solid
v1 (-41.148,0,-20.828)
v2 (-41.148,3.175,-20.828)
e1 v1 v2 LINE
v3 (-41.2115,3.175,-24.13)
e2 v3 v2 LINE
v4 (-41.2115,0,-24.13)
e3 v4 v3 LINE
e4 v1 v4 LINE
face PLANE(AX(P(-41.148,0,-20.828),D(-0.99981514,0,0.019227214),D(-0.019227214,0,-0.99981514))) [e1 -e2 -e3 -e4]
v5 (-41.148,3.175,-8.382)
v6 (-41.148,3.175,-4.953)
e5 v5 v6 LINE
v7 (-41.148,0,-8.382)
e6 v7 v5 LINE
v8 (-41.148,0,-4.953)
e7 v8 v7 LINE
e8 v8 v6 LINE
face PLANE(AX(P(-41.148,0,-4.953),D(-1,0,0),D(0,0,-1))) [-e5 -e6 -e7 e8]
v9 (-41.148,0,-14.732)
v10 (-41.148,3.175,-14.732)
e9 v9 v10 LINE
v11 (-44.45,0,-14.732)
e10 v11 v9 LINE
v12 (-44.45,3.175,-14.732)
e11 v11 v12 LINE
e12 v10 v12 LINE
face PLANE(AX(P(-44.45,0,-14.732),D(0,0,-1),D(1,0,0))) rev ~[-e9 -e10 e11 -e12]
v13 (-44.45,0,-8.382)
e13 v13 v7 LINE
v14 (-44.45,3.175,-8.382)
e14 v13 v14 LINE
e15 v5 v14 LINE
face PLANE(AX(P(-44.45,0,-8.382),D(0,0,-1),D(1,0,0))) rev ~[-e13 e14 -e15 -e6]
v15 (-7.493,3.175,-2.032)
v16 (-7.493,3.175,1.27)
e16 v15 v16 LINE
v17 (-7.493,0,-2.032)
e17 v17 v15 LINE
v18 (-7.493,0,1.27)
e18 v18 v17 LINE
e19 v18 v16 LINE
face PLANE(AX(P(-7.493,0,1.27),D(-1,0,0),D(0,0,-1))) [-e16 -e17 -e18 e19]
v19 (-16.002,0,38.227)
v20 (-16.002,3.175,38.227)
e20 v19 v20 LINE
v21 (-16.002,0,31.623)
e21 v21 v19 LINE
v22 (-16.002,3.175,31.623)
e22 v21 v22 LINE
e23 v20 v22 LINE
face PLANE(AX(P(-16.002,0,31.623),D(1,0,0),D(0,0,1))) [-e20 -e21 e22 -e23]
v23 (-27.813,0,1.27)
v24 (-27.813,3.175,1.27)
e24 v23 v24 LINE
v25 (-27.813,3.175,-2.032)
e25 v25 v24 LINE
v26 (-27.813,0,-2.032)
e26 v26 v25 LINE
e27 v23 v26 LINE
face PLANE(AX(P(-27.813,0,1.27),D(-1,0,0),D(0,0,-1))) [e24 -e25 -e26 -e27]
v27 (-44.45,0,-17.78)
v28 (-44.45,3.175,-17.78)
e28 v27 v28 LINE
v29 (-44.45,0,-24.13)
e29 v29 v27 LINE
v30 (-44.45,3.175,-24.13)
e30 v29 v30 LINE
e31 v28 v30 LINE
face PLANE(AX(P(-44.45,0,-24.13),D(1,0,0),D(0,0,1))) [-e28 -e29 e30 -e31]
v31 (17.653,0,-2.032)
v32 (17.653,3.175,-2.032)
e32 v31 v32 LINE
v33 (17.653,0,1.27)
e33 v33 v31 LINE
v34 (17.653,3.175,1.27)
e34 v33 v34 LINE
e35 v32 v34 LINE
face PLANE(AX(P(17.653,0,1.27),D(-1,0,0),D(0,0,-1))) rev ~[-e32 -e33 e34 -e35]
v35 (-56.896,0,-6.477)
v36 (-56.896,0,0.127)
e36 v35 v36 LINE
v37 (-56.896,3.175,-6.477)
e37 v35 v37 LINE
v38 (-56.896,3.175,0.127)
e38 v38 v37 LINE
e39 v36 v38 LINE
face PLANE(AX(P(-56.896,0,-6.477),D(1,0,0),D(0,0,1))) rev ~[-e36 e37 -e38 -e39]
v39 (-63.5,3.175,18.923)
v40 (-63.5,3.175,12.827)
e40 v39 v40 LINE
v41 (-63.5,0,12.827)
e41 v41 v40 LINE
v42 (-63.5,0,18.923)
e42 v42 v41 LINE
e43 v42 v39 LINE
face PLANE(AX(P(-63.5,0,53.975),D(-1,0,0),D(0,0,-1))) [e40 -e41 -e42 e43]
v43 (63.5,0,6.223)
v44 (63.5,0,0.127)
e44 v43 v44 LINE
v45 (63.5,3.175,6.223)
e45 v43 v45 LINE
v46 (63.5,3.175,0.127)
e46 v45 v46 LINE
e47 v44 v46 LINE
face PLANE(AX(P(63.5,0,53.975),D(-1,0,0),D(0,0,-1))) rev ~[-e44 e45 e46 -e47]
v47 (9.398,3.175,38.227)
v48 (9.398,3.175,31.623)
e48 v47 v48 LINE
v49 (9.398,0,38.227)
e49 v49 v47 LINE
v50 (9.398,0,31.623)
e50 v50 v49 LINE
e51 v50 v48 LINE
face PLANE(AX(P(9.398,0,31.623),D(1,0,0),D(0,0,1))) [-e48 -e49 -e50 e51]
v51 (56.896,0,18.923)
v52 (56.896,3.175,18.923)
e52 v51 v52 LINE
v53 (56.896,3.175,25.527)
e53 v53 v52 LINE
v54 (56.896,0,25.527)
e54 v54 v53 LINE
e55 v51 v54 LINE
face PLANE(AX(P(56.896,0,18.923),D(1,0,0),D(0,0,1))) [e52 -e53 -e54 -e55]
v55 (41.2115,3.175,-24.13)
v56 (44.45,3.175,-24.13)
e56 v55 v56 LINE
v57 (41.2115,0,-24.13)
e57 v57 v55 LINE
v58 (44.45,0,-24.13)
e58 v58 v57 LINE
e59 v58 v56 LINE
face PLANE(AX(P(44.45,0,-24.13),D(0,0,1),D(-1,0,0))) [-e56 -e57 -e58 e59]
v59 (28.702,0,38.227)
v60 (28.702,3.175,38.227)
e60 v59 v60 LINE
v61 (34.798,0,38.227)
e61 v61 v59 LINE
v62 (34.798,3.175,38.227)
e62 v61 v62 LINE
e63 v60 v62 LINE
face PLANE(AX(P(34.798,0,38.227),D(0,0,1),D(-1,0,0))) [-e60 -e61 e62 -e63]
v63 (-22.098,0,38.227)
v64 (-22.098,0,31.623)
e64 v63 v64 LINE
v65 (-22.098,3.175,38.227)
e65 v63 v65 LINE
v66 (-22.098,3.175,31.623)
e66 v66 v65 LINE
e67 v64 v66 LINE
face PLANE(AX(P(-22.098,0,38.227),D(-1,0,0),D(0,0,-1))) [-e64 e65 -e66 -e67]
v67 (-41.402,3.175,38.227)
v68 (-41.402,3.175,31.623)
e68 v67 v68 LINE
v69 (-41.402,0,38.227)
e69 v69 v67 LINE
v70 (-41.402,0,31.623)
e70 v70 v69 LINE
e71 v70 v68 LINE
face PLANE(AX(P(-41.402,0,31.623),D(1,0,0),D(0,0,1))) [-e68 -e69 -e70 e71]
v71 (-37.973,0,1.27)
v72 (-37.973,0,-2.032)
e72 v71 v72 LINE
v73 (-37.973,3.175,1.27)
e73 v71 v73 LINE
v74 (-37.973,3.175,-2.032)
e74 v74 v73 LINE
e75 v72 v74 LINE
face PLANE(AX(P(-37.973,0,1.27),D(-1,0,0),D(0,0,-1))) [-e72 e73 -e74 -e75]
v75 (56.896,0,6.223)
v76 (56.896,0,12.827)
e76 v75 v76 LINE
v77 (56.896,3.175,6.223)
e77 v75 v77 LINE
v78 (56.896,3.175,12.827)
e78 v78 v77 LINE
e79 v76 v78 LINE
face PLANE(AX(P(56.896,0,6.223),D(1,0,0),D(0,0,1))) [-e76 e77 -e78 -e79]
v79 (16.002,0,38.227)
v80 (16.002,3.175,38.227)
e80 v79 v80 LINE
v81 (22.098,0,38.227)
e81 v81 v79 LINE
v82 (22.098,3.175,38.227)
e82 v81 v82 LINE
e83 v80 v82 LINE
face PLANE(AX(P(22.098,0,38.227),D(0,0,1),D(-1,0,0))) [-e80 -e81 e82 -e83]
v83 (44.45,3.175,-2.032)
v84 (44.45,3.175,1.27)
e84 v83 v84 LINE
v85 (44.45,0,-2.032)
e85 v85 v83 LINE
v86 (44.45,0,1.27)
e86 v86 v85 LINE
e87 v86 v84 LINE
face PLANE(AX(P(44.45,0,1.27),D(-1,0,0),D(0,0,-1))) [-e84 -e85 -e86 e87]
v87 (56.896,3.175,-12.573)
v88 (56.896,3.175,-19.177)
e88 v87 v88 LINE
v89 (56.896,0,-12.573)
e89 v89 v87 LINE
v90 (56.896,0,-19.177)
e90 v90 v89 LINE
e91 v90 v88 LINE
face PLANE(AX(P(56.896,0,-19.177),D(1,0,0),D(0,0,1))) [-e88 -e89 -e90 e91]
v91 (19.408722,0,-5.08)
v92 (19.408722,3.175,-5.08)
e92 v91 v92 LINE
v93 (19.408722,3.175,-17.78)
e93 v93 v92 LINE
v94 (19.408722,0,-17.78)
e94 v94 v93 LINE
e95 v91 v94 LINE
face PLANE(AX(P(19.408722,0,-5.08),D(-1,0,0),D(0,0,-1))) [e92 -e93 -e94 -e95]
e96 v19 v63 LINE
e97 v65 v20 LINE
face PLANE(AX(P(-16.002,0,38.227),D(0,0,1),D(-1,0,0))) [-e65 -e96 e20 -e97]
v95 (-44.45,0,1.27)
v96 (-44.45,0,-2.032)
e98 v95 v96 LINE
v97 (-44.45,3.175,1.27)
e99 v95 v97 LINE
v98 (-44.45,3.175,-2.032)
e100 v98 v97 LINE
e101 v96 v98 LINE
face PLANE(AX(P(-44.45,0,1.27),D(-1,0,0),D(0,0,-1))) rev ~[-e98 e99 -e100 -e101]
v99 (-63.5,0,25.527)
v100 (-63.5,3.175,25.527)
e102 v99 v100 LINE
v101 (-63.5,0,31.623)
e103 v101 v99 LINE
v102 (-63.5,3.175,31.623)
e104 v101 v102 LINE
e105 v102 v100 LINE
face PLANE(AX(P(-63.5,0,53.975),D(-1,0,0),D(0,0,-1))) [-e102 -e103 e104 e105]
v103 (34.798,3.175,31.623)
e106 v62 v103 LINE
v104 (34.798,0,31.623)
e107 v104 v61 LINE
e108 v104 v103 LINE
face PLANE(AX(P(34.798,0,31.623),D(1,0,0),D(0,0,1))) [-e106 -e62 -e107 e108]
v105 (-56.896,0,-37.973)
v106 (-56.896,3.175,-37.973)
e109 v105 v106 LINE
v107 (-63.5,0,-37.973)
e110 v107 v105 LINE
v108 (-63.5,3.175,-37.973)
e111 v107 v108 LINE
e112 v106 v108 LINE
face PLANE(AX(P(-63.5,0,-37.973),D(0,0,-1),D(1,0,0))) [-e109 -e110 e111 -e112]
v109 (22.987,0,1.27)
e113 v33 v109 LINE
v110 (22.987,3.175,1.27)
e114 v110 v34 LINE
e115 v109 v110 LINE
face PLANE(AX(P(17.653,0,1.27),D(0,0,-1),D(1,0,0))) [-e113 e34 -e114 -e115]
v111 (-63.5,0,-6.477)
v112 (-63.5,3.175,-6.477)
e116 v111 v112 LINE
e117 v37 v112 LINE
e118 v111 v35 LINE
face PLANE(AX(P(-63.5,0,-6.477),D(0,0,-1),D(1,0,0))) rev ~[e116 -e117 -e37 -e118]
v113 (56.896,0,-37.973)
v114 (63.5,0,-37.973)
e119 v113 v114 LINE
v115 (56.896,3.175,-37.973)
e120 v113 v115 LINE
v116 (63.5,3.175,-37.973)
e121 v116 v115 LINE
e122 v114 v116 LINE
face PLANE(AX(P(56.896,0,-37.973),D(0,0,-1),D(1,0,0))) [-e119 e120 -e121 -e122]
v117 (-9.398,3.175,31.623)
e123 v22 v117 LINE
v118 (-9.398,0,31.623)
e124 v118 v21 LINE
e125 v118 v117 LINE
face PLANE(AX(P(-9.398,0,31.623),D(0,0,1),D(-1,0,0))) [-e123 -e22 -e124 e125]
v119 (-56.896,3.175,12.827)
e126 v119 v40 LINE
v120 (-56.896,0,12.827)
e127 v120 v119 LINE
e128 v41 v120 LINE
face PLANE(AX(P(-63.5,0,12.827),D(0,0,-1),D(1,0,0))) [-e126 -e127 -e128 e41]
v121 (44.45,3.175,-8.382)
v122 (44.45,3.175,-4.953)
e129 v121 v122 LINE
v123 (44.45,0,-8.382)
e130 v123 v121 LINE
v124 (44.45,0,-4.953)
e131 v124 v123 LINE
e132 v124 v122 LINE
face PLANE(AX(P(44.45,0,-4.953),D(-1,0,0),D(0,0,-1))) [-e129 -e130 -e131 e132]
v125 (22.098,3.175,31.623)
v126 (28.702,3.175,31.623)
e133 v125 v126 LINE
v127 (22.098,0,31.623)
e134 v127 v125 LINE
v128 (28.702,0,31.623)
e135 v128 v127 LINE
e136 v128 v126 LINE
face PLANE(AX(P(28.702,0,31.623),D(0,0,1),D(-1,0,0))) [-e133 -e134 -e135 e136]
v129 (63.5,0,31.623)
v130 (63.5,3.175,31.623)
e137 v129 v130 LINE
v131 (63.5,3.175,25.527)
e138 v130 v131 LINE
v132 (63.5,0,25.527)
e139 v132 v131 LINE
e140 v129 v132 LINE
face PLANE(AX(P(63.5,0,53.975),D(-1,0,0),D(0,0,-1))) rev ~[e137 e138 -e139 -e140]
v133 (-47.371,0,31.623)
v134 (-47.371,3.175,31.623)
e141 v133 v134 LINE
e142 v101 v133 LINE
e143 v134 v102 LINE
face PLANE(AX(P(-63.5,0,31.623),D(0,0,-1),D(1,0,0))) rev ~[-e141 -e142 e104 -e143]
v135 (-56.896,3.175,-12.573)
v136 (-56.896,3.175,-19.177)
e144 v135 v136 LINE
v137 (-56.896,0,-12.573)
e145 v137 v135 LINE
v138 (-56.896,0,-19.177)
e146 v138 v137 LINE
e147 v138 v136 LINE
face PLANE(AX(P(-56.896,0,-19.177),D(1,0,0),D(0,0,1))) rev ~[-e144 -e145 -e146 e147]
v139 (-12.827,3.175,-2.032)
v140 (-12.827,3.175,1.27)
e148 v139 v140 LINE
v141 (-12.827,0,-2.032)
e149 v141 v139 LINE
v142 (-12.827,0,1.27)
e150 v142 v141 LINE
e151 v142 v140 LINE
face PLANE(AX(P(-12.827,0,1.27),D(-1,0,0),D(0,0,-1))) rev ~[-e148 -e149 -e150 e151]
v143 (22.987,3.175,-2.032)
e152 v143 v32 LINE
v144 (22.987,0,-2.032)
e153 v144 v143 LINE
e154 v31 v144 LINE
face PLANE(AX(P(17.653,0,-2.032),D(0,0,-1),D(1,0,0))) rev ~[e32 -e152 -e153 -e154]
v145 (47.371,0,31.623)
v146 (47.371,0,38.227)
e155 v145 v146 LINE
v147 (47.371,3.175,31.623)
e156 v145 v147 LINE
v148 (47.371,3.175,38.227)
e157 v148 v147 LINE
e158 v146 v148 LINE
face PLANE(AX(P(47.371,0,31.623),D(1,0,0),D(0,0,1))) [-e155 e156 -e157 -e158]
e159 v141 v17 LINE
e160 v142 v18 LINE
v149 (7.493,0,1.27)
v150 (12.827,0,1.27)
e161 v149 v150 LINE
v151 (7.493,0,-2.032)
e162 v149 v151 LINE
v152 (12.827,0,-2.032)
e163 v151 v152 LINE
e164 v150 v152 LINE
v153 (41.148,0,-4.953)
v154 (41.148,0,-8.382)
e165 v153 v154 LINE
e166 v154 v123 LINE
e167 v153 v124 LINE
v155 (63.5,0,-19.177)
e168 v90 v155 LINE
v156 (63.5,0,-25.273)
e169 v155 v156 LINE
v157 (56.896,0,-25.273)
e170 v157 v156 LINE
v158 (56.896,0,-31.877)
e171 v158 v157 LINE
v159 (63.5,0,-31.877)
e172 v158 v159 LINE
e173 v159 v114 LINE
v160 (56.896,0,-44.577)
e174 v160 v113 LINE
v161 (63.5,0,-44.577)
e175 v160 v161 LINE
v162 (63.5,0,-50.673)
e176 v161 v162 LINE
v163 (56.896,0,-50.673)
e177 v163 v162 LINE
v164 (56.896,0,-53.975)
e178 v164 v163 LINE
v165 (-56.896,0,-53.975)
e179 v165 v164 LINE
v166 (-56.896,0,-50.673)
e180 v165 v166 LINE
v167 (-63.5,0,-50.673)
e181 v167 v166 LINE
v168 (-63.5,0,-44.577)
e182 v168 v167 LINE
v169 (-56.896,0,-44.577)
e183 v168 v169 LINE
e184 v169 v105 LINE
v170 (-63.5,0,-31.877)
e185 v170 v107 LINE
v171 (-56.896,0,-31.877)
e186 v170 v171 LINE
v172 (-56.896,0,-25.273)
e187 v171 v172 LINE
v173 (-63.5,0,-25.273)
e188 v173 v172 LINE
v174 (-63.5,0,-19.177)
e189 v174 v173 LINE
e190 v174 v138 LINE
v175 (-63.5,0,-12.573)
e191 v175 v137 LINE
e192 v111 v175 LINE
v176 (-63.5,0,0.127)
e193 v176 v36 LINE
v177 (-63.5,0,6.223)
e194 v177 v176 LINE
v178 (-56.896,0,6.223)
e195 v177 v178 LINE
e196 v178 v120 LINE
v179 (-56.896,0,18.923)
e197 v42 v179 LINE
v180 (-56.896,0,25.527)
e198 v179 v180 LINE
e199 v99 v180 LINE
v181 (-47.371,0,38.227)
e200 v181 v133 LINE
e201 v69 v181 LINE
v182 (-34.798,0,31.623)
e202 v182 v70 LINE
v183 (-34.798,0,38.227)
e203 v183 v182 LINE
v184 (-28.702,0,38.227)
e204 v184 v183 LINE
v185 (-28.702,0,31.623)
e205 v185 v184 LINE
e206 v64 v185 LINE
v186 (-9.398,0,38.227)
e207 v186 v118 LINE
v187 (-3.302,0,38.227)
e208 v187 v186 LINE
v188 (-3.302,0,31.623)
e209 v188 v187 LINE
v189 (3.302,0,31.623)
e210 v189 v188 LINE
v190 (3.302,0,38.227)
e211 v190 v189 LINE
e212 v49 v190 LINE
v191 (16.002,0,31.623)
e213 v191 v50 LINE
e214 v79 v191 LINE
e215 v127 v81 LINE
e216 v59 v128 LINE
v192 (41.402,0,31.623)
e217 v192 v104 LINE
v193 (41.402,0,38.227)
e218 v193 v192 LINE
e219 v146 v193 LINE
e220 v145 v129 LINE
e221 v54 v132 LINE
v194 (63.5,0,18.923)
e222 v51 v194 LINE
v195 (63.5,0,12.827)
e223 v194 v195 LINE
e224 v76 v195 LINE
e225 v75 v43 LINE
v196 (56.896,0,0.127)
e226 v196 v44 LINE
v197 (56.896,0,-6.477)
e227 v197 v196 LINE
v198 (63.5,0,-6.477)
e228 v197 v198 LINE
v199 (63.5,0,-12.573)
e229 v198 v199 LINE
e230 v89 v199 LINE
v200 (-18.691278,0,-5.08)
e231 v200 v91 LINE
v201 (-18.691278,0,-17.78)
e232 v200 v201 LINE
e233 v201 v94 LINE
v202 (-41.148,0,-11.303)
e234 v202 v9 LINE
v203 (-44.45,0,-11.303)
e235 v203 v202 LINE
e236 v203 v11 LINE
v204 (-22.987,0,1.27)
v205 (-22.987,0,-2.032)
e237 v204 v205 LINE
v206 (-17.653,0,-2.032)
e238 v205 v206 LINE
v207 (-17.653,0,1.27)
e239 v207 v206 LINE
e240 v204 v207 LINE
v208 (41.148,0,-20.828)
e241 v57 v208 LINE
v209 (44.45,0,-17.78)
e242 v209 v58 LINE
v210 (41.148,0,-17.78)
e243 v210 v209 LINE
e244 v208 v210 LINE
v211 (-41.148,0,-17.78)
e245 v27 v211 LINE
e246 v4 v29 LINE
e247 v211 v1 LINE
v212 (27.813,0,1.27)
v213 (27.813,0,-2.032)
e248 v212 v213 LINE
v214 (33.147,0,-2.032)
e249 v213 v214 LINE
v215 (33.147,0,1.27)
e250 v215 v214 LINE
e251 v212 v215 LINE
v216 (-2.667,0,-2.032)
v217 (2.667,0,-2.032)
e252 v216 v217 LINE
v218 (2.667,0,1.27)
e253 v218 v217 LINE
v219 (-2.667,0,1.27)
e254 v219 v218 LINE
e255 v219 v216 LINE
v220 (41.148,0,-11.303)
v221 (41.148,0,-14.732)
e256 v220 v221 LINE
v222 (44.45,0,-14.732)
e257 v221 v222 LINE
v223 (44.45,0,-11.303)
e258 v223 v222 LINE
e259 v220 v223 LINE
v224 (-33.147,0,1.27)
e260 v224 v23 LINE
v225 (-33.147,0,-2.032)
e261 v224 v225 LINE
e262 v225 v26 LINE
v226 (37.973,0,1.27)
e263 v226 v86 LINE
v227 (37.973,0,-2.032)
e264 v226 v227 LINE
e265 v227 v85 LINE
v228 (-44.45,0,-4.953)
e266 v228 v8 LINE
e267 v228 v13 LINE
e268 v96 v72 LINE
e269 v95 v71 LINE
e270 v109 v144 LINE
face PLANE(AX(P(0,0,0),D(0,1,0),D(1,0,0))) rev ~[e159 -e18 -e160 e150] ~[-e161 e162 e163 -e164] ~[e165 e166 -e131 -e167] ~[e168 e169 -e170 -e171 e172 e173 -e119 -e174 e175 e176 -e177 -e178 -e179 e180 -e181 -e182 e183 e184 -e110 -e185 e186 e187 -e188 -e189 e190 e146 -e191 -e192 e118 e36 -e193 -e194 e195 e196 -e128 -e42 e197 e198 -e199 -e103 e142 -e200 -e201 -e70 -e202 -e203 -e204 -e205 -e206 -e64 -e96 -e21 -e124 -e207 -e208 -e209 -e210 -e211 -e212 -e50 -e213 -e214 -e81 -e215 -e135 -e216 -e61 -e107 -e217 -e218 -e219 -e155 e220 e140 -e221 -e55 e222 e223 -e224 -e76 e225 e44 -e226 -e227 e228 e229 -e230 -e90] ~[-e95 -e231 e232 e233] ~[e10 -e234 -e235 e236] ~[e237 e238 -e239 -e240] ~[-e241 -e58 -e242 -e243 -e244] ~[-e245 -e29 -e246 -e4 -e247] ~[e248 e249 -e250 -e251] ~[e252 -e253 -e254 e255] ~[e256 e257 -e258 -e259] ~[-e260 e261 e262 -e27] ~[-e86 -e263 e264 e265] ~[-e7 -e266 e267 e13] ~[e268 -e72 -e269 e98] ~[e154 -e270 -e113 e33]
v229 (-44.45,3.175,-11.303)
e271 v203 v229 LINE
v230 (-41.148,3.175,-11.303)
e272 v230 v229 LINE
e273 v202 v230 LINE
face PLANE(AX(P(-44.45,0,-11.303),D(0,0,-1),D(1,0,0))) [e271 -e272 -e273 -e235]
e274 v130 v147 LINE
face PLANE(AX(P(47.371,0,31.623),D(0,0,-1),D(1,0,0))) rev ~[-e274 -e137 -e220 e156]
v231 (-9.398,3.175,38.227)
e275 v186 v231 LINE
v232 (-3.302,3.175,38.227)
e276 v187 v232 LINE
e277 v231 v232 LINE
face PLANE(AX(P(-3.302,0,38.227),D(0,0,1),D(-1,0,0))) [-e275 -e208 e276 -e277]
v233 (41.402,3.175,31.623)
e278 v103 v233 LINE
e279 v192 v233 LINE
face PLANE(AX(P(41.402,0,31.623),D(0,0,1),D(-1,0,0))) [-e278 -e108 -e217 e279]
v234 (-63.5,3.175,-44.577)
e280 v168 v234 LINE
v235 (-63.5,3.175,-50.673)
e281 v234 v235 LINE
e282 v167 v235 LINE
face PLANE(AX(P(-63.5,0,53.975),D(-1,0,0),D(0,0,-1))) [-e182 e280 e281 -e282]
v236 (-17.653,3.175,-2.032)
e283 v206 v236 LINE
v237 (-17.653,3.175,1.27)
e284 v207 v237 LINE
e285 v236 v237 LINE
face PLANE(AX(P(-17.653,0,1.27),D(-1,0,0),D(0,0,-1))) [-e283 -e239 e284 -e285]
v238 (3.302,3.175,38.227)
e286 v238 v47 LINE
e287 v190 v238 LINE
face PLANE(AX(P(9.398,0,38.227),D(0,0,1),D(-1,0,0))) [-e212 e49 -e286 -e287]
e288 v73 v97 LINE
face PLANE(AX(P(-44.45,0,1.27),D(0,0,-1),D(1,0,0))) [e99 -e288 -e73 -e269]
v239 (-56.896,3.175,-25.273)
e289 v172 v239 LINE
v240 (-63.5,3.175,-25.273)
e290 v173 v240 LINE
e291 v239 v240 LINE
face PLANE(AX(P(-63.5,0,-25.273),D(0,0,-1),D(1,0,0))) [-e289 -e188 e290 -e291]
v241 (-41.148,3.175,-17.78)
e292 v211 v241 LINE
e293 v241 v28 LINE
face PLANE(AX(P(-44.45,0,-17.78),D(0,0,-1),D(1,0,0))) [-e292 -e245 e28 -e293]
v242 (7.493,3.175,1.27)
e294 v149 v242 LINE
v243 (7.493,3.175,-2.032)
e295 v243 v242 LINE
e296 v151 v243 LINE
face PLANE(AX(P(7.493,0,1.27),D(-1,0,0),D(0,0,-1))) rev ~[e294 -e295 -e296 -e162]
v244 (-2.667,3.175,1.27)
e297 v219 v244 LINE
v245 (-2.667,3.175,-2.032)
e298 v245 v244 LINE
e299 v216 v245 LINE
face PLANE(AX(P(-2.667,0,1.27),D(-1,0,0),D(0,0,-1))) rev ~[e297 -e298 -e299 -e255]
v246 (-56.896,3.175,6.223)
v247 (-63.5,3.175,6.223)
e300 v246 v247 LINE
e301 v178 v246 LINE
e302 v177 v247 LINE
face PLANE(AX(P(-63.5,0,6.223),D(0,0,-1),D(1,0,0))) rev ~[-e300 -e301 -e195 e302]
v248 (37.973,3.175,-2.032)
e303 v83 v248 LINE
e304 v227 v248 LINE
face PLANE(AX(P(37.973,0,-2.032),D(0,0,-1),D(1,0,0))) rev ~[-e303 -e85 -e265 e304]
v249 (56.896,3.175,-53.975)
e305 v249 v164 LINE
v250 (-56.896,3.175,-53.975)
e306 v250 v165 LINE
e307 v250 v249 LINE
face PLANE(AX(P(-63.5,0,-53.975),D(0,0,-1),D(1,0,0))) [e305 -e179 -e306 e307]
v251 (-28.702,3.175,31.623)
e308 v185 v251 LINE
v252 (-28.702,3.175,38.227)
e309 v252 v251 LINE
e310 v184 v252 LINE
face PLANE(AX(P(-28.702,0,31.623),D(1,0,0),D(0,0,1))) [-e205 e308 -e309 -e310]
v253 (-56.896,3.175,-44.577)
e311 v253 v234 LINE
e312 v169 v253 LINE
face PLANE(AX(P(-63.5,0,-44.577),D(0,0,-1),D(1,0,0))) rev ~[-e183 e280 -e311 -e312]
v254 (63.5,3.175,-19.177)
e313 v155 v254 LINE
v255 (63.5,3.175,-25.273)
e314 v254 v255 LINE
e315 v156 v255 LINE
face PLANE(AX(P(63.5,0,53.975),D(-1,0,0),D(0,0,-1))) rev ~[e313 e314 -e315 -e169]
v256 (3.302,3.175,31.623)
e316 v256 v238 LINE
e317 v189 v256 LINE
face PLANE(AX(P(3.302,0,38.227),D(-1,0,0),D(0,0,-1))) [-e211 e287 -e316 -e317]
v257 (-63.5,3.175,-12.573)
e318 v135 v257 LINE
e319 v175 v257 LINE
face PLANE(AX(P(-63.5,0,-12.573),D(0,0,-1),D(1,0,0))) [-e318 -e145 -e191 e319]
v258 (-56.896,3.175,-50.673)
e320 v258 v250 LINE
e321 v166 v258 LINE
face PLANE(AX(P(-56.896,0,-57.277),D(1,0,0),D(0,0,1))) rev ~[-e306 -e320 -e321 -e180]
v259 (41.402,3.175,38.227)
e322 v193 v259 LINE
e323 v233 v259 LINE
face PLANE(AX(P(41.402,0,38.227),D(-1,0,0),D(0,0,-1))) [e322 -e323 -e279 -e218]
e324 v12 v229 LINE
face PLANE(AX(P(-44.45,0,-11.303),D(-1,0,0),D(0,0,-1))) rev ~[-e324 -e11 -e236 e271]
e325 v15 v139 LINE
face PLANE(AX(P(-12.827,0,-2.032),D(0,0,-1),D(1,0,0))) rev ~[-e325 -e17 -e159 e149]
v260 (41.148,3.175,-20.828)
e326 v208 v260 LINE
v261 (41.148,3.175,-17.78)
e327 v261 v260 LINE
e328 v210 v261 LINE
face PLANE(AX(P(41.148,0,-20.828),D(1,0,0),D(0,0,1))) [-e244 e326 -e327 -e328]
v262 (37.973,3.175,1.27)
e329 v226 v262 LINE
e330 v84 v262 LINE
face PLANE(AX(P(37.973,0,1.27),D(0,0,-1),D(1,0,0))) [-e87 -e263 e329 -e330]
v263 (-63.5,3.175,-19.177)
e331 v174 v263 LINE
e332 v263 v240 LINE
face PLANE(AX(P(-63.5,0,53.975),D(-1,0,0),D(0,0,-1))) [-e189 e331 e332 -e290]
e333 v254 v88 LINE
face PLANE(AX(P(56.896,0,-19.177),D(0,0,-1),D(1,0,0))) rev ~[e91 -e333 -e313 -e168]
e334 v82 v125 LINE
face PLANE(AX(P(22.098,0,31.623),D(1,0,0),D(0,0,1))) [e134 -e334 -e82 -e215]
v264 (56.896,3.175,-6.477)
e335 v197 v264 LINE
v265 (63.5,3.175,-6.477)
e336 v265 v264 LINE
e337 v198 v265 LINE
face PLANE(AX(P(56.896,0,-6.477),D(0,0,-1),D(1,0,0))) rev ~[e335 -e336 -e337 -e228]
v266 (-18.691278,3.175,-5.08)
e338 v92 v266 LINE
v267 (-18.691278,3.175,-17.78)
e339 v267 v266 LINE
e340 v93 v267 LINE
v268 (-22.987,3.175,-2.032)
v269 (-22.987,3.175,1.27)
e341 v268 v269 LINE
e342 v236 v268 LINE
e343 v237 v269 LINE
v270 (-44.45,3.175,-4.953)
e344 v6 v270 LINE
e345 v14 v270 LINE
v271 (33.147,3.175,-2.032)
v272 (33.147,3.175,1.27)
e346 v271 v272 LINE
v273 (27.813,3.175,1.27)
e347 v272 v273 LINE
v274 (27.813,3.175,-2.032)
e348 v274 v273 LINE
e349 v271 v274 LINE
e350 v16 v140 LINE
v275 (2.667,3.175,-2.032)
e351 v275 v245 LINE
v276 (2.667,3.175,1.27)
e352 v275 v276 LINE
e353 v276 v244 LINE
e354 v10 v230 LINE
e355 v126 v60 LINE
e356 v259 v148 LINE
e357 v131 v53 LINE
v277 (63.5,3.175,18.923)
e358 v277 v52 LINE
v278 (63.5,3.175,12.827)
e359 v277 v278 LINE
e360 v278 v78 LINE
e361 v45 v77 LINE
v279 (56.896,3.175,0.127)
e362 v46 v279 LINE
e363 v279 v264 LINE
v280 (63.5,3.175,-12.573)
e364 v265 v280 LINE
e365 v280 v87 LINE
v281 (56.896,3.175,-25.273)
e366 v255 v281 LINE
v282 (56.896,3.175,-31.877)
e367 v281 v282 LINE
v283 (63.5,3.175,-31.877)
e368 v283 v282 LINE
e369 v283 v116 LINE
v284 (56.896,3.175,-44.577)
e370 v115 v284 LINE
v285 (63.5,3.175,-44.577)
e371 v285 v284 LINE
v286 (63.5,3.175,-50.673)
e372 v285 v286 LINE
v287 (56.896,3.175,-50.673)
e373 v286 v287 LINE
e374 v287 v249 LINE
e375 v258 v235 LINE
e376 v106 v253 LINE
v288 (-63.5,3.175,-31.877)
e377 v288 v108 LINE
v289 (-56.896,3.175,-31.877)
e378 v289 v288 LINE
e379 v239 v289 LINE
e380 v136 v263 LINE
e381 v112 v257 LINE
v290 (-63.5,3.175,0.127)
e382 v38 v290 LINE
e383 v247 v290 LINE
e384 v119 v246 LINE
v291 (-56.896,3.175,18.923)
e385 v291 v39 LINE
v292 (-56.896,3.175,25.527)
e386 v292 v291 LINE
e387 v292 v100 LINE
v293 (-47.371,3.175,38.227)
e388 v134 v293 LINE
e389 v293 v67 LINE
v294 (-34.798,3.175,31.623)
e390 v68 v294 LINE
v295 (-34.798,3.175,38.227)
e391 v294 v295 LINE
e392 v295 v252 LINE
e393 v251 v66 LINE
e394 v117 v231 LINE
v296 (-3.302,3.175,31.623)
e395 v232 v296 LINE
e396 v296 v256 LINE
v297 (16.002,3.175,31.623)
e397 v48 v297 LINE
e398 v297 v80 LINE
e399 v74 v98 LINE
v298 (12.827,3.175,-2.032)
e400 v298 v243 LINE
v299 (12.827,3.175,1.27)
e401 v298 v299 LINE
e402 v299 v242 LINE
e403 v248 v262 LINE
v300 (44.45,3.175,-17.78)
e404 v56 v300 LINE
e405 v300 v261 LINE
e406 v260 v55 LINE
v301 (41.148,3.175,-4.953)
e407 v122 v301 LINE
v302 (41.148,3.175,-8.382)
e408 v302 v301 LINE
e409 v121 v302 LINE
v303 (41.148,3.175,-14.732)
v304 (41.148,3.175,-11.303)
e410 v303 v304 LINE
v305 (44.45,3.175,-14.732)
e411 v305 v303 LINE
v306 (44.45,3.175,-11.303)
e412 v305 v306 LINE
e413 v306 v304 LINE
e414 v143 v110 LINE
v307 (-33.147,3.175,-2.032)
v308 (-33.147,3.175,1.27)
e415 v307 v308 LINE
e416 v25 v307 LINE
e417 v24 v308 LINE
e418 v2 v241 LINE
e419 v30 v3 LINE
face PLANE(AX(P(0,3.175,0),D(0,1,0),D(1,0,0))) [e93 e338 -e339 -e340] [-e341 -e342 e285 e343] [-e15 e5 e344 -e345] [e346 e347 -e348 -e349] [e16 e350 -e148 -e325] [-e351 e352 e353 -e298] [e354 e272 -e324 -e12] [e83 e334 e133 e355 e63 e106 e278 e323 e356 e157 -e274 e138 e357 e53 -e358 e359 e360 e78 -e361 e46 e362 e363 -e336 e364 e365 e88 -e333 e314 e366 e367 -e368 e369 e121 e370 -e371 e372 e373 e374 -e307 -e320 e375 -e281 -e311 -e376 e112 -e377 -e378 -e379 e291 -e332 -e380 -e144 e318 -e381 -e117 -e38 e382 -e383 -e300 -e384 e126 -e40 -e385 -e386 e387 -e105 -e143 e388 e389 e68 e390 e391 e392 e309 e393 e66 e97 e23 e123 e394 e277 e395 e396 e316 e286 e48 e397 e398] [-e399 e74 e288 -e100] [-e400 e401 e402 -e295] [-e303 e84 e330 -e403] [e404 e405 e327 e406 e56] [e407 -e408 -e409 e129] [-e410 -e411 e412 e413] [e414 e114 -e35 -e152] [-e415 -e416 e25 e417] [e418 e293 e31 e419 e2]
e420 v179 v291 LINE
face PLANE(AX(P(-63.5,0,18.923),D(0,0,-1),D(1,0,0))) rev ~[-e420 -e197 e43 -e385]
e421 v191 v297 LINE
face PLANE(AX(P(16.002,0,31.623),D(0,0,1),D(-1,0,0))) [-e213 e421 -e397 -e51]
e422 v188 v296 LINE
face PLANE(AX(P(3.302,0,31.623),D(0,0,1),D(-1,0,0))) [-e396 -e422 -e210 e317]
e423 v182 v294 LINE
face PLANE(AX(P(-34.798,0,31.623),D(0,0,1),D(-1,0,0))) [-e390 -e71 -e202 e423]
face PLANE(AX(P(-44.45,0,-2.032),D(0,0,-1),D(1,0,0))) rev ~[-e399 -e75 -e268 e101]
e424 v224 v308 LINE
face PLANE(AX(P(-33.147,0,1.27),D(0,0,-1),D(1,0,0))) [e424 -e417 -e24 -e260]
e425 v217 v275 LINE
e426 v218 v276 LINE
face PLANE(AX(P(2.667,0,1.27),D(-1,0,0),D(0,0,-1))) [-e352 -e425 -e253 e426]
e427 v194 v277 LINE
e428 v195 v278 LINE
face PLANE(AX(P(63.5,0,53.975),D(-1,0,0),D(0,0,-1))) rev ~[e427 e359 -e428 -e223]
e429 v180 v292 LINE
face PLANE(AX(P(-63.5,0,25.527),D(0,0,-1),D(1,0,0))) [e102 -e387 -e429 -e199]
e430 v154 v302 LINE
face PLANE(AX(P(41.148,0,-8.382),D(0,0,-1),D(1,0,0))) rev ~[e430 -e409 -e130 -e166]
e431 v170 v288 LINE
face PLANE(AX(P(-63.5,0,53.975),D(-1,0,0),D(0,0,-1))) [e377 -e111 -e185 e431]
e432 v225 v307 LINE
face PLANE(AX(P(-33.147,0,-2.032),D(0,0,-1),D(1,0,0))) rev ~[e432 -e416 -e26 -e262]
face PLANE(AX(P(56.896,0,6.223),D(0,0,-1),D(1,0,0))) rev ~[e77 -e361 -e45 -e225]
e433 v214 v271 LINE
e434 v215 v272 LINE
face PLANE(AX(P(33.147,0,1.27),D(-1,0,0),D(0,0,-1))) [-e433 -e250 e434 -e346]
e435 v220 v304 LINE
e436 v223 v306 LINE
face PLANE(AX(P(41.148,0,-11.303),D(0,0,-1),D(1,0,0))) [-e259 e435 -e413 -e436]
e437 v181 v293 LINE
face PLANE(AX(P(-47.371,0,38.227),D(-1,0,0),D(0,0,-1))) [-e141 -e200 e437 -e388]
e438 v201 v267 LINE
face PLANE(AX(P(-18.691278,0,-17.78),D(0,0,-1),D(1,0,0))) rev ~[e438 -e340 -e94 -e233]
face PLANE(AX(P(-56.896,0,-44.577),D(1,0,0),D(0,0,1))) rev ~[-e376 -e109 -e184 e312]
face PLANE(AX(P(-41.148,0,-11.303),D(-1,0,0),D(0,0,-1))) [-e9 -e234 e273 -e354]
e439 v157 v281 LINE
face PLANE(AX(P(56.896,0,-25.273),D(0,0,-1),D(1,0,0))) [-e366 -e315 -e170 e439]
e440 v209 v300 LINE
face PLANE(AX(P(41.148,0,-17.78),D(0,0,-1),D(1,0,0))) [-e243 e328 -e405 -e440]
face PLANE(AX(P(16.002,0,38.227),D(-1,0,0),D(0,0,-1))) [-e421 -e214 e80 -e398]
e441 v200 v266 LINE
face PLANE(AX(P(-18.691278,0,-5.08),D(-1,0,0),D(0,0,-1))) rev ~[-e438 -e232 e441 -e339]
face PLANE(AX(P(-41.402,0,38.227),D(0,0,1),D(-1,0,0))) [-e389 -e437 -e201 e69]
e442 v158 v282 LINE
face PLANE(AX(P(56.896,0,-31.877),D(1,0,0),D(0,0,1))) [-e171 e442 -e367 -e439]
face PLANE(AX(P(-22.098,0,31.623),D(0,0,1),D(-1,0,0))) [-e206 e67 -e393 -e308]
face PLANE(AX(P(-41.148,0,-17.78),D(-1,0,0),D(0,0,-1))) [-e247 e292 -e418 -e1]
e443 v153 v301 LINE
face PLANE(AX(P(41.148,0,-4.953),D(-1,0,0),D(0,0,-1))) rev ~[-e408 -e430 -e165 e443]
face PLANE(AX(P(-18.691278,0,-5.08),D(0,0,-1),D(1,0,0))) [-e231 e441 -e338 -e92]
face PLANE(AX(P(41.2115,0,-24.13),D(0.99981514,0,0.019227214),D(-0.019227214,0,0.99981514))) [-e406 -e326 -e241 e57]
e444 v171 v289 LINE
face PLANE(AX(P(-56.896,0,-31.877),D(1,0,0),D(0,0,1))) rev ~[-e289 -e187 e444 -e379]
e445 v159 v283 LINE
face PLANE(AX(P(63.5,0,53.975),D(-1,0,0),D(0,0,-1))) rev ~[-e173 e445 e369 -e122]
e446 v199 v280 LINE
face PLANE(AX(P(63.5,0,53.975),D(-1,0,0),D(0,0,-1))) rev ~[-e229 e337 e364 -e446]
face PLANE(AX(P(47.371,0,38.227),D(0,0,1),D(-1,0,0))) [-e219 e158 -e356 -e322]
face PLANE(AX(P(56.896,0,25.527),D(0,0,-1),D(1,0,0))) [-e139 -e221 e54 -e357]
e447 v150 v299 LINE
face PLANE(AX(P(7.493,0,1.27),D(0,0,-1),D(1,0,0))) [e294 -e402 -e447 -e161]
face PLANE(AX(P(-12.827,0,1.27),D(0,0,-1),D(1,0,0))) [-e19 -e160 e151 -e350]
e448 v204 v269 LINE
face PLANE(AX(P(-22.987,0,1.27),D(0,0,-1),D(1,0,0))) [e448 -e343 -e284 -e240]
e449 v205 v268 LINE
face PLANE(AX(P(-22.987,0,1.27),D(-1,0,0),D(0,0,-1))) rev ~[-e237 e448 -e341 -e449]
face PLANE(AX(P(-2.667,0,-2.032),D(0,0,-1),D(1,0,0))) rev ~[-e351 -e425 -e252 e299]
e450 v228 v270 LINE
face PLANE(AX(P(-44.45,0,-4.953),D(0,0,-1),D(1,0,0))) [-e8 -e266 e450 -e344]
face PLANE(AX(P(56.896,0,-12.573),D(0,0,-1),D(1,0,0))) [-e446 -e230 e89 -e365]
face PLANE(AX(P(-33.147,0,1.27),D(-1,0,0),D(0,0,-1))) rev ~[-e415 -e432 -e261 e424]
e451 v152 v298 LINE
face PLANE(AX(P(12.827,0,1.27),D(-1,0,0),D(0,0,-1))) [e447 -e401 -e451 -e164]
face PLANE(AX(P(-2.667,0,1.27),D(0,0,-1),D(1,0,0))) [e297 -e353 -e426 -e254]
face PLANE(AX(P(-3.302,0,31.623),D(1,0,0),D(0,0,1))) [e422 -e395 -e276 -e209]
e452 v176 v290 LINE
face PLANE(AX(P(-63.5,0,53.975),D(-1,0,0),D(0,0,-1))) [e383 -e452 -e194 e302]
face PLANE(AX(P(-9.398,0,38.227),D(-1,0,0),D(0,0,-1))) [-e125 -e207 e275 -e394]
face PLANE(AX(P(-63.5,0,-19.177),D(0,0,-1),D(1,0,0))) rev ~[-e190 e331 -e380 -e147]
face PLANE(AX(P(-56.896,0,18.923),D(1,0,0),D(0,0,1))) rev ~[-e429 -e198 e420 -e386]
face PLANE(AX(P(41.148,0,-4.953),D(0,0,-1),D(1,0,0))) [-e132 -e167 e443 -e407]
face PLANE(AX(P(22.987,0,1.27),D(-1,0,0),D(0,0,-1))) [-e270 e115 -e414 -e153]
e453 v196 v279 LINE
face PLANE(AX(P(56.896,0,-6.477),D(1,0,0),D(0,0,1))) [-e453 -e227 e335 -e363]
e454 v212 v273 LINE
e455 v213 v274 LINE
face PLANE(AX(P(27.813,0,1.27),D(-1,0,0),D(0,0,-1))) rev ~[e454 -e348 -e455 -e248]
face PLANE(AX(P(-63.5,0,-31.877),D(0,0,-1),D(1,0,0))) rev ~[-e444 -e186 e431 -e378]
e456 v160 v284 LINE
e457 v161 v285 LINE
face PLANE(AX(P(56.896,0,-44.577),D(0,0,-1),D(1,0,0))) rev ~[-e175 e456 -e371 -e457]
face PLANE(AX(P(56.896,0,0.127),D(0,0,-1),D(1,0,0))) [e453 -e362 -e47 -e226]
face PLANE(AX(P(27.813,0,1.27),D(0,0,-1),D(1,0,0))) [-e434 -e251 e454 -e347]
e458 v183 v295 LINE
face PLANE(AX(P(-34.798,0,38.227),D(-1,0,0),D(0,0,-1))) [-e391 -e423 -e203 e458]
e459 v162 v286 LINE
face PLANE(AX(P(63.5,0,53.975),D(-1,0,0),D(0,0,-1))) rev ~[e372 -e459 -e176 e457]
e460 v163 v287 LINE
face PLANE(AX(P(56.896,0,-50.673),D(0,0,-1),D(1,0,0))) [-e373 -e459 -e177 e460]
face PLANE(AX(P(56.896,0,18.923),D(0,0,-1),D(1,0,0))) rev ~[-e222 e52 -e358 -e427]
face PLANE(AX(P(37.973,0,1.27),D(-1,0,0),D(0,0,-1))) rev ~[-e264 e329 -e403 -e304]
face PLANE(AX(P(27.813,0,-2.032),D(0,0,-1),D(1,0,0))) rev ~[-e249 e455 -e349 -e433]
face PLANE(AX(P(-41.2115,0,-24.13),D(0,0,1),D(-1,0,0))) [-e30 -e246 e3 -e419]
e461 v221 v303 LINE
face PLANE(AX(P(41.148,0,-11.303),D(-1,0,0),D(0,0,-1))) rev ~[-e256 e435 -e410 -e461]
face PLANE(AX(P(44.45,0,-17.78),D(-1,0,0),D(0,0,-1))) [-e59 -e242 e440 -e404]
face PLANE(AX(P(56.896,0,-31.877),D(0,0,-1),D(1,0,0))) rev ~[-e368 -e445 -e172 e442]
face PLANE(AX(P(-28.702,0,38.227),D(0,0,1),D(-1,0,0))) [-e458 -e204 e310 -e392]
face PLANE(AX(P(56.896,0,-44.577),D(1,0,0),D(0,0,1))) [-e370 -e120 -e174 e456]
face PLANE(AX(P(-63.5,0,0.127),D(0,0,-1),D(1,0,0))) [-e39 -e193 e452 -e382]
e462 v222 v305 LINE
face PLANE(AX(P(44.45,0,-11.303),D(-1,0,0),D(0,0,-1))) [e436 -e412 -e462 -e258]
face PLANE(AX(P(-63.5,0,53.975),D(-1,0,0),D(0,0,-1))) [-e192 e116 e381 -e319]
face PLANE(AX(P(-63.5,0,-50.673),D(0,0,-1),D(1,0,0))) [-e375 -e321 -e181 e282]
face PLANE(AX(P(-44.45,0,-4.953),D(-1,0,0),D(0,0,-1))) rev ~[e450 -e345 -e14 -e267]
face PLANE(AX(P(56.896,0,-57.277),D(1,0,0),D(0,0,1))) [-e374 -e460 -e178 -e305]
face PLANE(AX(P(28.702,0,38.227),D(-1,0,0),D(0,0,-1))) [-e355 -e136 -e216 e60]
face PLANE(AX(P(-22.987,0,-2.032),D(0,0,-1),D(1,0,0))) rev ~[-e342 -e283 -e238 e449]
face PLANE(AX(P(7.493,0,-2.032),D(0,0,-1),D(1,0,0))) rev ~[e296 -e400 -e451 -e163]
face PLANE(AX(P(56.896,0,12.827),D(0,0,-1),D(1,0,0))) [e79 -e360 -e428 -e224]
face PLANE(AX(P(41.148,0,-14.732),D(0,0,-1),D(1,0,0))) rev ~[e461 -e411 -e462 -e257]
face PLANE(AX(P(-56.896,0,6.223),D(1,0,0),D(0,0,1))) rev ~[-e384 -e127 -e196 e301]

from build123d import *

# Parameters (mm, degrees)
SKETCH1_W           = 127
SKETCH1_H           = 107.95
BOSS_EXTRUDE1_DEPTH = 3.175
SKETCH2_W           = 6.604
SKETCH2_H           = 6.604
CUT_EXTRUDE1_DEPTH  = 84.400427157
SKETCH3_W           = 6.477
SKETCH3_H           = 3.302
SKETCH3_W_2         = 3.302
SKETCH3_H_2         = 3.429
SKETCH3_W_3         = 5.334
SKETCH3_W_4         = 38.1
SKETCH3_H_3         = 12.7
CUT_EXTRUDE2_DEPTH  = 84.400427157


with BuildPart() as part:
    # Sketch1 → Boss-Extrude1 (new body)
    with BuildSketch(Plane(origin=(0, 0, 0), x_dir=(1, 0, 0), z_dir=(0, 1, 0))):
        Rectangle(SKETCH1_W, SKETCH1_H)
    extrude(amount=BOSS_EXTRUDE1_DEPTH)

    # Sketch2 → Cut-Extrude1 (cut, through all)
    with BuildSketch(Plane.XZ):
        with Locations((60.198, 22.225)):
            Rectangle(SKETCH2_W, SKETCH2_H)
        Polygon((63.5, 38.227), (63.5, 31.623), (56.896, 31.623), (47.371, 31.623), (47.371, 38.227), (41.402, 38.227), (41.402, 31.623), (34.798, 31.623), (34.798, 38.227), (28.702, 38.227), (28.702, 31.623), (22.098, 31.623), (22.098, 38.227), (16.002, 38.227), (16.002, 31.623), (9.398, 31.623), (9.398, 38.227), (3.302, 38.227), (3.302, 31.623), (-3.302, 31.623), (-3.302, 38.227), (-9.398, 38.227), (-9.398, 31.623), (-16.002, 31.623), (-16.002, 38.227), (-22.098, 38.227), (-22.098, 31.623), (-28.702, 31.623), (-28.702, 38.227), (-34.798, 38.227), (-34.798, 31.623), (-41.402, 31.623), (-41.402, 38.227), (-47.371, 38.227), (-47.371, 31.623), (-56.896, 31.623), (-63.5, 31.623), (-63.5, 38.227), (-63.5, 53.975), (63.5, 53.975), align=None)
        with Locations((60.198, 9.525)):
            Rectangle(SKETCH2_W, SKETCH2_H)
        with Locations((60.198, -3.175)):
            Rectangle(SKETCH2_W, SKETCH2_H)
        with Locations((60.198, -15.875)):
            Rectangle(SKETCH2_W, SKETCH2_H)
        with Locations((60.198, -28.575)):
            Rectangle(SKETCH2_W, SKETCH2_H)
        with Locations((60.198, -41.275)):
            Rectangle(SKETCH2_W, SKETCH2_H)
        with Locations((60.198, -53.975)):
            Rectangle(SKETCH2_W, SKETCH2_H)
        with Locations((-60.198, -53.975)):
            Rectangle(SKETCH2_W, SKETCH2_H)
        with Locations((-60.198, -41.275)):
            Rectangle(SKETCH2_W, SKETCH2_H)
        with Locations((-60.198, -28.575)):
            Rectangle(SKETCH2_W, SKETCH2_H)
        with Locations((-60.198, -15.875)):
            Rectangle(SKETCH2_W, SKETCH2_H)
        with Locations((-60.198, -3.175)):
            Rectangle(SKETCH2_W, SKETCH2_H)
        with Locations((-60.198, 9.525)):
            Rectangle(SKETCH2_W, SKETCH2_H)
        with Locations((-60.198, 22.225)):
            Rectangle(SKETCH2_W, SKETCH2_H)
    extrude(amount=-CUT_EXTRUDE1_DEPTH, mode=Mode.SUBTRACT)

    # Sketch3 → Cut-Extrude2 (cut, through all)
    with BuildSketch(Plane(origin=(0, 0, 0), x_dir=(1, 0, 0), z_dir=(0, 1, 0))):
        Polygon((44.45, 24.13), (41.2115, 24.13), (41.148, 20.828), (41.148, 17.78), (44.45, 17.78), align=None)
        with Locations((41.2115, 0.381)):
            Rectangle(SKETCH3_W, SKETCH3_H)
        with Locations((42.799, 6.6675)):
            Rectangle(SKETCH3_W_2, SKETCH3_H_2)
        with Locations((42.799, 13.0175)):
            Rectangle(SKETCH3_W_2, SKETCH3_H_2)
        with Locations((30.48, 0.381)):
            Rectangle(SKETCH3_W_3, SKETCH3_H)
        with Locations((20.32, 0.381)):
            Rectangle(SKETCH3_W_3, SKETCH3_H)
        with Locations((10.16, 0.381)):
            Rectangle(SKETCH3_W_3, SKETCH3_H)
        with Locations((0, 0.381)):
            Rectangle(SKETCH3_W_3, SKETCH3_H)
        with Locations((-10.16, 0.381)):
            Rectangle(SKETCH3_W_3, SKETCH3_H)
        with Locations((-20.32, 0.381)):
            Rectangle(SKETCH3_W_3, SKETCH3_H)
        with Locations((-42.799, 13.0175)):
            Rectangle(SKETCH3_W_2, SKETCH3_H_2)
        Polygon((-44.45, 24.13), (-44.45, 17.78), (-41.148, 17.78), (-41.148, 20.828), (-41.2115, 24.13), align=None)
        with Locations((-42.799, 6.6675)):
            Rectangle(SKETCH3_W_2, SKETCH3_H_2)
        with Locations((-30.48, 0.381)):
            Rectangle(SKETCH3_W_3, SKETCH3_H)
        with Locations((-41.2115, 0.381)):
            Rectangle(SKETCH3_W, SKETCH3_H)
        with Locations((0.358722149, 11.43)):
            Rectangle(SKETCH3_W_4, SKETCH3_H_3)
    extrude(amount=CUT_EXTRUDE2_DEPTH, mode=Mode.SUBTRACT)


solid = part.part
